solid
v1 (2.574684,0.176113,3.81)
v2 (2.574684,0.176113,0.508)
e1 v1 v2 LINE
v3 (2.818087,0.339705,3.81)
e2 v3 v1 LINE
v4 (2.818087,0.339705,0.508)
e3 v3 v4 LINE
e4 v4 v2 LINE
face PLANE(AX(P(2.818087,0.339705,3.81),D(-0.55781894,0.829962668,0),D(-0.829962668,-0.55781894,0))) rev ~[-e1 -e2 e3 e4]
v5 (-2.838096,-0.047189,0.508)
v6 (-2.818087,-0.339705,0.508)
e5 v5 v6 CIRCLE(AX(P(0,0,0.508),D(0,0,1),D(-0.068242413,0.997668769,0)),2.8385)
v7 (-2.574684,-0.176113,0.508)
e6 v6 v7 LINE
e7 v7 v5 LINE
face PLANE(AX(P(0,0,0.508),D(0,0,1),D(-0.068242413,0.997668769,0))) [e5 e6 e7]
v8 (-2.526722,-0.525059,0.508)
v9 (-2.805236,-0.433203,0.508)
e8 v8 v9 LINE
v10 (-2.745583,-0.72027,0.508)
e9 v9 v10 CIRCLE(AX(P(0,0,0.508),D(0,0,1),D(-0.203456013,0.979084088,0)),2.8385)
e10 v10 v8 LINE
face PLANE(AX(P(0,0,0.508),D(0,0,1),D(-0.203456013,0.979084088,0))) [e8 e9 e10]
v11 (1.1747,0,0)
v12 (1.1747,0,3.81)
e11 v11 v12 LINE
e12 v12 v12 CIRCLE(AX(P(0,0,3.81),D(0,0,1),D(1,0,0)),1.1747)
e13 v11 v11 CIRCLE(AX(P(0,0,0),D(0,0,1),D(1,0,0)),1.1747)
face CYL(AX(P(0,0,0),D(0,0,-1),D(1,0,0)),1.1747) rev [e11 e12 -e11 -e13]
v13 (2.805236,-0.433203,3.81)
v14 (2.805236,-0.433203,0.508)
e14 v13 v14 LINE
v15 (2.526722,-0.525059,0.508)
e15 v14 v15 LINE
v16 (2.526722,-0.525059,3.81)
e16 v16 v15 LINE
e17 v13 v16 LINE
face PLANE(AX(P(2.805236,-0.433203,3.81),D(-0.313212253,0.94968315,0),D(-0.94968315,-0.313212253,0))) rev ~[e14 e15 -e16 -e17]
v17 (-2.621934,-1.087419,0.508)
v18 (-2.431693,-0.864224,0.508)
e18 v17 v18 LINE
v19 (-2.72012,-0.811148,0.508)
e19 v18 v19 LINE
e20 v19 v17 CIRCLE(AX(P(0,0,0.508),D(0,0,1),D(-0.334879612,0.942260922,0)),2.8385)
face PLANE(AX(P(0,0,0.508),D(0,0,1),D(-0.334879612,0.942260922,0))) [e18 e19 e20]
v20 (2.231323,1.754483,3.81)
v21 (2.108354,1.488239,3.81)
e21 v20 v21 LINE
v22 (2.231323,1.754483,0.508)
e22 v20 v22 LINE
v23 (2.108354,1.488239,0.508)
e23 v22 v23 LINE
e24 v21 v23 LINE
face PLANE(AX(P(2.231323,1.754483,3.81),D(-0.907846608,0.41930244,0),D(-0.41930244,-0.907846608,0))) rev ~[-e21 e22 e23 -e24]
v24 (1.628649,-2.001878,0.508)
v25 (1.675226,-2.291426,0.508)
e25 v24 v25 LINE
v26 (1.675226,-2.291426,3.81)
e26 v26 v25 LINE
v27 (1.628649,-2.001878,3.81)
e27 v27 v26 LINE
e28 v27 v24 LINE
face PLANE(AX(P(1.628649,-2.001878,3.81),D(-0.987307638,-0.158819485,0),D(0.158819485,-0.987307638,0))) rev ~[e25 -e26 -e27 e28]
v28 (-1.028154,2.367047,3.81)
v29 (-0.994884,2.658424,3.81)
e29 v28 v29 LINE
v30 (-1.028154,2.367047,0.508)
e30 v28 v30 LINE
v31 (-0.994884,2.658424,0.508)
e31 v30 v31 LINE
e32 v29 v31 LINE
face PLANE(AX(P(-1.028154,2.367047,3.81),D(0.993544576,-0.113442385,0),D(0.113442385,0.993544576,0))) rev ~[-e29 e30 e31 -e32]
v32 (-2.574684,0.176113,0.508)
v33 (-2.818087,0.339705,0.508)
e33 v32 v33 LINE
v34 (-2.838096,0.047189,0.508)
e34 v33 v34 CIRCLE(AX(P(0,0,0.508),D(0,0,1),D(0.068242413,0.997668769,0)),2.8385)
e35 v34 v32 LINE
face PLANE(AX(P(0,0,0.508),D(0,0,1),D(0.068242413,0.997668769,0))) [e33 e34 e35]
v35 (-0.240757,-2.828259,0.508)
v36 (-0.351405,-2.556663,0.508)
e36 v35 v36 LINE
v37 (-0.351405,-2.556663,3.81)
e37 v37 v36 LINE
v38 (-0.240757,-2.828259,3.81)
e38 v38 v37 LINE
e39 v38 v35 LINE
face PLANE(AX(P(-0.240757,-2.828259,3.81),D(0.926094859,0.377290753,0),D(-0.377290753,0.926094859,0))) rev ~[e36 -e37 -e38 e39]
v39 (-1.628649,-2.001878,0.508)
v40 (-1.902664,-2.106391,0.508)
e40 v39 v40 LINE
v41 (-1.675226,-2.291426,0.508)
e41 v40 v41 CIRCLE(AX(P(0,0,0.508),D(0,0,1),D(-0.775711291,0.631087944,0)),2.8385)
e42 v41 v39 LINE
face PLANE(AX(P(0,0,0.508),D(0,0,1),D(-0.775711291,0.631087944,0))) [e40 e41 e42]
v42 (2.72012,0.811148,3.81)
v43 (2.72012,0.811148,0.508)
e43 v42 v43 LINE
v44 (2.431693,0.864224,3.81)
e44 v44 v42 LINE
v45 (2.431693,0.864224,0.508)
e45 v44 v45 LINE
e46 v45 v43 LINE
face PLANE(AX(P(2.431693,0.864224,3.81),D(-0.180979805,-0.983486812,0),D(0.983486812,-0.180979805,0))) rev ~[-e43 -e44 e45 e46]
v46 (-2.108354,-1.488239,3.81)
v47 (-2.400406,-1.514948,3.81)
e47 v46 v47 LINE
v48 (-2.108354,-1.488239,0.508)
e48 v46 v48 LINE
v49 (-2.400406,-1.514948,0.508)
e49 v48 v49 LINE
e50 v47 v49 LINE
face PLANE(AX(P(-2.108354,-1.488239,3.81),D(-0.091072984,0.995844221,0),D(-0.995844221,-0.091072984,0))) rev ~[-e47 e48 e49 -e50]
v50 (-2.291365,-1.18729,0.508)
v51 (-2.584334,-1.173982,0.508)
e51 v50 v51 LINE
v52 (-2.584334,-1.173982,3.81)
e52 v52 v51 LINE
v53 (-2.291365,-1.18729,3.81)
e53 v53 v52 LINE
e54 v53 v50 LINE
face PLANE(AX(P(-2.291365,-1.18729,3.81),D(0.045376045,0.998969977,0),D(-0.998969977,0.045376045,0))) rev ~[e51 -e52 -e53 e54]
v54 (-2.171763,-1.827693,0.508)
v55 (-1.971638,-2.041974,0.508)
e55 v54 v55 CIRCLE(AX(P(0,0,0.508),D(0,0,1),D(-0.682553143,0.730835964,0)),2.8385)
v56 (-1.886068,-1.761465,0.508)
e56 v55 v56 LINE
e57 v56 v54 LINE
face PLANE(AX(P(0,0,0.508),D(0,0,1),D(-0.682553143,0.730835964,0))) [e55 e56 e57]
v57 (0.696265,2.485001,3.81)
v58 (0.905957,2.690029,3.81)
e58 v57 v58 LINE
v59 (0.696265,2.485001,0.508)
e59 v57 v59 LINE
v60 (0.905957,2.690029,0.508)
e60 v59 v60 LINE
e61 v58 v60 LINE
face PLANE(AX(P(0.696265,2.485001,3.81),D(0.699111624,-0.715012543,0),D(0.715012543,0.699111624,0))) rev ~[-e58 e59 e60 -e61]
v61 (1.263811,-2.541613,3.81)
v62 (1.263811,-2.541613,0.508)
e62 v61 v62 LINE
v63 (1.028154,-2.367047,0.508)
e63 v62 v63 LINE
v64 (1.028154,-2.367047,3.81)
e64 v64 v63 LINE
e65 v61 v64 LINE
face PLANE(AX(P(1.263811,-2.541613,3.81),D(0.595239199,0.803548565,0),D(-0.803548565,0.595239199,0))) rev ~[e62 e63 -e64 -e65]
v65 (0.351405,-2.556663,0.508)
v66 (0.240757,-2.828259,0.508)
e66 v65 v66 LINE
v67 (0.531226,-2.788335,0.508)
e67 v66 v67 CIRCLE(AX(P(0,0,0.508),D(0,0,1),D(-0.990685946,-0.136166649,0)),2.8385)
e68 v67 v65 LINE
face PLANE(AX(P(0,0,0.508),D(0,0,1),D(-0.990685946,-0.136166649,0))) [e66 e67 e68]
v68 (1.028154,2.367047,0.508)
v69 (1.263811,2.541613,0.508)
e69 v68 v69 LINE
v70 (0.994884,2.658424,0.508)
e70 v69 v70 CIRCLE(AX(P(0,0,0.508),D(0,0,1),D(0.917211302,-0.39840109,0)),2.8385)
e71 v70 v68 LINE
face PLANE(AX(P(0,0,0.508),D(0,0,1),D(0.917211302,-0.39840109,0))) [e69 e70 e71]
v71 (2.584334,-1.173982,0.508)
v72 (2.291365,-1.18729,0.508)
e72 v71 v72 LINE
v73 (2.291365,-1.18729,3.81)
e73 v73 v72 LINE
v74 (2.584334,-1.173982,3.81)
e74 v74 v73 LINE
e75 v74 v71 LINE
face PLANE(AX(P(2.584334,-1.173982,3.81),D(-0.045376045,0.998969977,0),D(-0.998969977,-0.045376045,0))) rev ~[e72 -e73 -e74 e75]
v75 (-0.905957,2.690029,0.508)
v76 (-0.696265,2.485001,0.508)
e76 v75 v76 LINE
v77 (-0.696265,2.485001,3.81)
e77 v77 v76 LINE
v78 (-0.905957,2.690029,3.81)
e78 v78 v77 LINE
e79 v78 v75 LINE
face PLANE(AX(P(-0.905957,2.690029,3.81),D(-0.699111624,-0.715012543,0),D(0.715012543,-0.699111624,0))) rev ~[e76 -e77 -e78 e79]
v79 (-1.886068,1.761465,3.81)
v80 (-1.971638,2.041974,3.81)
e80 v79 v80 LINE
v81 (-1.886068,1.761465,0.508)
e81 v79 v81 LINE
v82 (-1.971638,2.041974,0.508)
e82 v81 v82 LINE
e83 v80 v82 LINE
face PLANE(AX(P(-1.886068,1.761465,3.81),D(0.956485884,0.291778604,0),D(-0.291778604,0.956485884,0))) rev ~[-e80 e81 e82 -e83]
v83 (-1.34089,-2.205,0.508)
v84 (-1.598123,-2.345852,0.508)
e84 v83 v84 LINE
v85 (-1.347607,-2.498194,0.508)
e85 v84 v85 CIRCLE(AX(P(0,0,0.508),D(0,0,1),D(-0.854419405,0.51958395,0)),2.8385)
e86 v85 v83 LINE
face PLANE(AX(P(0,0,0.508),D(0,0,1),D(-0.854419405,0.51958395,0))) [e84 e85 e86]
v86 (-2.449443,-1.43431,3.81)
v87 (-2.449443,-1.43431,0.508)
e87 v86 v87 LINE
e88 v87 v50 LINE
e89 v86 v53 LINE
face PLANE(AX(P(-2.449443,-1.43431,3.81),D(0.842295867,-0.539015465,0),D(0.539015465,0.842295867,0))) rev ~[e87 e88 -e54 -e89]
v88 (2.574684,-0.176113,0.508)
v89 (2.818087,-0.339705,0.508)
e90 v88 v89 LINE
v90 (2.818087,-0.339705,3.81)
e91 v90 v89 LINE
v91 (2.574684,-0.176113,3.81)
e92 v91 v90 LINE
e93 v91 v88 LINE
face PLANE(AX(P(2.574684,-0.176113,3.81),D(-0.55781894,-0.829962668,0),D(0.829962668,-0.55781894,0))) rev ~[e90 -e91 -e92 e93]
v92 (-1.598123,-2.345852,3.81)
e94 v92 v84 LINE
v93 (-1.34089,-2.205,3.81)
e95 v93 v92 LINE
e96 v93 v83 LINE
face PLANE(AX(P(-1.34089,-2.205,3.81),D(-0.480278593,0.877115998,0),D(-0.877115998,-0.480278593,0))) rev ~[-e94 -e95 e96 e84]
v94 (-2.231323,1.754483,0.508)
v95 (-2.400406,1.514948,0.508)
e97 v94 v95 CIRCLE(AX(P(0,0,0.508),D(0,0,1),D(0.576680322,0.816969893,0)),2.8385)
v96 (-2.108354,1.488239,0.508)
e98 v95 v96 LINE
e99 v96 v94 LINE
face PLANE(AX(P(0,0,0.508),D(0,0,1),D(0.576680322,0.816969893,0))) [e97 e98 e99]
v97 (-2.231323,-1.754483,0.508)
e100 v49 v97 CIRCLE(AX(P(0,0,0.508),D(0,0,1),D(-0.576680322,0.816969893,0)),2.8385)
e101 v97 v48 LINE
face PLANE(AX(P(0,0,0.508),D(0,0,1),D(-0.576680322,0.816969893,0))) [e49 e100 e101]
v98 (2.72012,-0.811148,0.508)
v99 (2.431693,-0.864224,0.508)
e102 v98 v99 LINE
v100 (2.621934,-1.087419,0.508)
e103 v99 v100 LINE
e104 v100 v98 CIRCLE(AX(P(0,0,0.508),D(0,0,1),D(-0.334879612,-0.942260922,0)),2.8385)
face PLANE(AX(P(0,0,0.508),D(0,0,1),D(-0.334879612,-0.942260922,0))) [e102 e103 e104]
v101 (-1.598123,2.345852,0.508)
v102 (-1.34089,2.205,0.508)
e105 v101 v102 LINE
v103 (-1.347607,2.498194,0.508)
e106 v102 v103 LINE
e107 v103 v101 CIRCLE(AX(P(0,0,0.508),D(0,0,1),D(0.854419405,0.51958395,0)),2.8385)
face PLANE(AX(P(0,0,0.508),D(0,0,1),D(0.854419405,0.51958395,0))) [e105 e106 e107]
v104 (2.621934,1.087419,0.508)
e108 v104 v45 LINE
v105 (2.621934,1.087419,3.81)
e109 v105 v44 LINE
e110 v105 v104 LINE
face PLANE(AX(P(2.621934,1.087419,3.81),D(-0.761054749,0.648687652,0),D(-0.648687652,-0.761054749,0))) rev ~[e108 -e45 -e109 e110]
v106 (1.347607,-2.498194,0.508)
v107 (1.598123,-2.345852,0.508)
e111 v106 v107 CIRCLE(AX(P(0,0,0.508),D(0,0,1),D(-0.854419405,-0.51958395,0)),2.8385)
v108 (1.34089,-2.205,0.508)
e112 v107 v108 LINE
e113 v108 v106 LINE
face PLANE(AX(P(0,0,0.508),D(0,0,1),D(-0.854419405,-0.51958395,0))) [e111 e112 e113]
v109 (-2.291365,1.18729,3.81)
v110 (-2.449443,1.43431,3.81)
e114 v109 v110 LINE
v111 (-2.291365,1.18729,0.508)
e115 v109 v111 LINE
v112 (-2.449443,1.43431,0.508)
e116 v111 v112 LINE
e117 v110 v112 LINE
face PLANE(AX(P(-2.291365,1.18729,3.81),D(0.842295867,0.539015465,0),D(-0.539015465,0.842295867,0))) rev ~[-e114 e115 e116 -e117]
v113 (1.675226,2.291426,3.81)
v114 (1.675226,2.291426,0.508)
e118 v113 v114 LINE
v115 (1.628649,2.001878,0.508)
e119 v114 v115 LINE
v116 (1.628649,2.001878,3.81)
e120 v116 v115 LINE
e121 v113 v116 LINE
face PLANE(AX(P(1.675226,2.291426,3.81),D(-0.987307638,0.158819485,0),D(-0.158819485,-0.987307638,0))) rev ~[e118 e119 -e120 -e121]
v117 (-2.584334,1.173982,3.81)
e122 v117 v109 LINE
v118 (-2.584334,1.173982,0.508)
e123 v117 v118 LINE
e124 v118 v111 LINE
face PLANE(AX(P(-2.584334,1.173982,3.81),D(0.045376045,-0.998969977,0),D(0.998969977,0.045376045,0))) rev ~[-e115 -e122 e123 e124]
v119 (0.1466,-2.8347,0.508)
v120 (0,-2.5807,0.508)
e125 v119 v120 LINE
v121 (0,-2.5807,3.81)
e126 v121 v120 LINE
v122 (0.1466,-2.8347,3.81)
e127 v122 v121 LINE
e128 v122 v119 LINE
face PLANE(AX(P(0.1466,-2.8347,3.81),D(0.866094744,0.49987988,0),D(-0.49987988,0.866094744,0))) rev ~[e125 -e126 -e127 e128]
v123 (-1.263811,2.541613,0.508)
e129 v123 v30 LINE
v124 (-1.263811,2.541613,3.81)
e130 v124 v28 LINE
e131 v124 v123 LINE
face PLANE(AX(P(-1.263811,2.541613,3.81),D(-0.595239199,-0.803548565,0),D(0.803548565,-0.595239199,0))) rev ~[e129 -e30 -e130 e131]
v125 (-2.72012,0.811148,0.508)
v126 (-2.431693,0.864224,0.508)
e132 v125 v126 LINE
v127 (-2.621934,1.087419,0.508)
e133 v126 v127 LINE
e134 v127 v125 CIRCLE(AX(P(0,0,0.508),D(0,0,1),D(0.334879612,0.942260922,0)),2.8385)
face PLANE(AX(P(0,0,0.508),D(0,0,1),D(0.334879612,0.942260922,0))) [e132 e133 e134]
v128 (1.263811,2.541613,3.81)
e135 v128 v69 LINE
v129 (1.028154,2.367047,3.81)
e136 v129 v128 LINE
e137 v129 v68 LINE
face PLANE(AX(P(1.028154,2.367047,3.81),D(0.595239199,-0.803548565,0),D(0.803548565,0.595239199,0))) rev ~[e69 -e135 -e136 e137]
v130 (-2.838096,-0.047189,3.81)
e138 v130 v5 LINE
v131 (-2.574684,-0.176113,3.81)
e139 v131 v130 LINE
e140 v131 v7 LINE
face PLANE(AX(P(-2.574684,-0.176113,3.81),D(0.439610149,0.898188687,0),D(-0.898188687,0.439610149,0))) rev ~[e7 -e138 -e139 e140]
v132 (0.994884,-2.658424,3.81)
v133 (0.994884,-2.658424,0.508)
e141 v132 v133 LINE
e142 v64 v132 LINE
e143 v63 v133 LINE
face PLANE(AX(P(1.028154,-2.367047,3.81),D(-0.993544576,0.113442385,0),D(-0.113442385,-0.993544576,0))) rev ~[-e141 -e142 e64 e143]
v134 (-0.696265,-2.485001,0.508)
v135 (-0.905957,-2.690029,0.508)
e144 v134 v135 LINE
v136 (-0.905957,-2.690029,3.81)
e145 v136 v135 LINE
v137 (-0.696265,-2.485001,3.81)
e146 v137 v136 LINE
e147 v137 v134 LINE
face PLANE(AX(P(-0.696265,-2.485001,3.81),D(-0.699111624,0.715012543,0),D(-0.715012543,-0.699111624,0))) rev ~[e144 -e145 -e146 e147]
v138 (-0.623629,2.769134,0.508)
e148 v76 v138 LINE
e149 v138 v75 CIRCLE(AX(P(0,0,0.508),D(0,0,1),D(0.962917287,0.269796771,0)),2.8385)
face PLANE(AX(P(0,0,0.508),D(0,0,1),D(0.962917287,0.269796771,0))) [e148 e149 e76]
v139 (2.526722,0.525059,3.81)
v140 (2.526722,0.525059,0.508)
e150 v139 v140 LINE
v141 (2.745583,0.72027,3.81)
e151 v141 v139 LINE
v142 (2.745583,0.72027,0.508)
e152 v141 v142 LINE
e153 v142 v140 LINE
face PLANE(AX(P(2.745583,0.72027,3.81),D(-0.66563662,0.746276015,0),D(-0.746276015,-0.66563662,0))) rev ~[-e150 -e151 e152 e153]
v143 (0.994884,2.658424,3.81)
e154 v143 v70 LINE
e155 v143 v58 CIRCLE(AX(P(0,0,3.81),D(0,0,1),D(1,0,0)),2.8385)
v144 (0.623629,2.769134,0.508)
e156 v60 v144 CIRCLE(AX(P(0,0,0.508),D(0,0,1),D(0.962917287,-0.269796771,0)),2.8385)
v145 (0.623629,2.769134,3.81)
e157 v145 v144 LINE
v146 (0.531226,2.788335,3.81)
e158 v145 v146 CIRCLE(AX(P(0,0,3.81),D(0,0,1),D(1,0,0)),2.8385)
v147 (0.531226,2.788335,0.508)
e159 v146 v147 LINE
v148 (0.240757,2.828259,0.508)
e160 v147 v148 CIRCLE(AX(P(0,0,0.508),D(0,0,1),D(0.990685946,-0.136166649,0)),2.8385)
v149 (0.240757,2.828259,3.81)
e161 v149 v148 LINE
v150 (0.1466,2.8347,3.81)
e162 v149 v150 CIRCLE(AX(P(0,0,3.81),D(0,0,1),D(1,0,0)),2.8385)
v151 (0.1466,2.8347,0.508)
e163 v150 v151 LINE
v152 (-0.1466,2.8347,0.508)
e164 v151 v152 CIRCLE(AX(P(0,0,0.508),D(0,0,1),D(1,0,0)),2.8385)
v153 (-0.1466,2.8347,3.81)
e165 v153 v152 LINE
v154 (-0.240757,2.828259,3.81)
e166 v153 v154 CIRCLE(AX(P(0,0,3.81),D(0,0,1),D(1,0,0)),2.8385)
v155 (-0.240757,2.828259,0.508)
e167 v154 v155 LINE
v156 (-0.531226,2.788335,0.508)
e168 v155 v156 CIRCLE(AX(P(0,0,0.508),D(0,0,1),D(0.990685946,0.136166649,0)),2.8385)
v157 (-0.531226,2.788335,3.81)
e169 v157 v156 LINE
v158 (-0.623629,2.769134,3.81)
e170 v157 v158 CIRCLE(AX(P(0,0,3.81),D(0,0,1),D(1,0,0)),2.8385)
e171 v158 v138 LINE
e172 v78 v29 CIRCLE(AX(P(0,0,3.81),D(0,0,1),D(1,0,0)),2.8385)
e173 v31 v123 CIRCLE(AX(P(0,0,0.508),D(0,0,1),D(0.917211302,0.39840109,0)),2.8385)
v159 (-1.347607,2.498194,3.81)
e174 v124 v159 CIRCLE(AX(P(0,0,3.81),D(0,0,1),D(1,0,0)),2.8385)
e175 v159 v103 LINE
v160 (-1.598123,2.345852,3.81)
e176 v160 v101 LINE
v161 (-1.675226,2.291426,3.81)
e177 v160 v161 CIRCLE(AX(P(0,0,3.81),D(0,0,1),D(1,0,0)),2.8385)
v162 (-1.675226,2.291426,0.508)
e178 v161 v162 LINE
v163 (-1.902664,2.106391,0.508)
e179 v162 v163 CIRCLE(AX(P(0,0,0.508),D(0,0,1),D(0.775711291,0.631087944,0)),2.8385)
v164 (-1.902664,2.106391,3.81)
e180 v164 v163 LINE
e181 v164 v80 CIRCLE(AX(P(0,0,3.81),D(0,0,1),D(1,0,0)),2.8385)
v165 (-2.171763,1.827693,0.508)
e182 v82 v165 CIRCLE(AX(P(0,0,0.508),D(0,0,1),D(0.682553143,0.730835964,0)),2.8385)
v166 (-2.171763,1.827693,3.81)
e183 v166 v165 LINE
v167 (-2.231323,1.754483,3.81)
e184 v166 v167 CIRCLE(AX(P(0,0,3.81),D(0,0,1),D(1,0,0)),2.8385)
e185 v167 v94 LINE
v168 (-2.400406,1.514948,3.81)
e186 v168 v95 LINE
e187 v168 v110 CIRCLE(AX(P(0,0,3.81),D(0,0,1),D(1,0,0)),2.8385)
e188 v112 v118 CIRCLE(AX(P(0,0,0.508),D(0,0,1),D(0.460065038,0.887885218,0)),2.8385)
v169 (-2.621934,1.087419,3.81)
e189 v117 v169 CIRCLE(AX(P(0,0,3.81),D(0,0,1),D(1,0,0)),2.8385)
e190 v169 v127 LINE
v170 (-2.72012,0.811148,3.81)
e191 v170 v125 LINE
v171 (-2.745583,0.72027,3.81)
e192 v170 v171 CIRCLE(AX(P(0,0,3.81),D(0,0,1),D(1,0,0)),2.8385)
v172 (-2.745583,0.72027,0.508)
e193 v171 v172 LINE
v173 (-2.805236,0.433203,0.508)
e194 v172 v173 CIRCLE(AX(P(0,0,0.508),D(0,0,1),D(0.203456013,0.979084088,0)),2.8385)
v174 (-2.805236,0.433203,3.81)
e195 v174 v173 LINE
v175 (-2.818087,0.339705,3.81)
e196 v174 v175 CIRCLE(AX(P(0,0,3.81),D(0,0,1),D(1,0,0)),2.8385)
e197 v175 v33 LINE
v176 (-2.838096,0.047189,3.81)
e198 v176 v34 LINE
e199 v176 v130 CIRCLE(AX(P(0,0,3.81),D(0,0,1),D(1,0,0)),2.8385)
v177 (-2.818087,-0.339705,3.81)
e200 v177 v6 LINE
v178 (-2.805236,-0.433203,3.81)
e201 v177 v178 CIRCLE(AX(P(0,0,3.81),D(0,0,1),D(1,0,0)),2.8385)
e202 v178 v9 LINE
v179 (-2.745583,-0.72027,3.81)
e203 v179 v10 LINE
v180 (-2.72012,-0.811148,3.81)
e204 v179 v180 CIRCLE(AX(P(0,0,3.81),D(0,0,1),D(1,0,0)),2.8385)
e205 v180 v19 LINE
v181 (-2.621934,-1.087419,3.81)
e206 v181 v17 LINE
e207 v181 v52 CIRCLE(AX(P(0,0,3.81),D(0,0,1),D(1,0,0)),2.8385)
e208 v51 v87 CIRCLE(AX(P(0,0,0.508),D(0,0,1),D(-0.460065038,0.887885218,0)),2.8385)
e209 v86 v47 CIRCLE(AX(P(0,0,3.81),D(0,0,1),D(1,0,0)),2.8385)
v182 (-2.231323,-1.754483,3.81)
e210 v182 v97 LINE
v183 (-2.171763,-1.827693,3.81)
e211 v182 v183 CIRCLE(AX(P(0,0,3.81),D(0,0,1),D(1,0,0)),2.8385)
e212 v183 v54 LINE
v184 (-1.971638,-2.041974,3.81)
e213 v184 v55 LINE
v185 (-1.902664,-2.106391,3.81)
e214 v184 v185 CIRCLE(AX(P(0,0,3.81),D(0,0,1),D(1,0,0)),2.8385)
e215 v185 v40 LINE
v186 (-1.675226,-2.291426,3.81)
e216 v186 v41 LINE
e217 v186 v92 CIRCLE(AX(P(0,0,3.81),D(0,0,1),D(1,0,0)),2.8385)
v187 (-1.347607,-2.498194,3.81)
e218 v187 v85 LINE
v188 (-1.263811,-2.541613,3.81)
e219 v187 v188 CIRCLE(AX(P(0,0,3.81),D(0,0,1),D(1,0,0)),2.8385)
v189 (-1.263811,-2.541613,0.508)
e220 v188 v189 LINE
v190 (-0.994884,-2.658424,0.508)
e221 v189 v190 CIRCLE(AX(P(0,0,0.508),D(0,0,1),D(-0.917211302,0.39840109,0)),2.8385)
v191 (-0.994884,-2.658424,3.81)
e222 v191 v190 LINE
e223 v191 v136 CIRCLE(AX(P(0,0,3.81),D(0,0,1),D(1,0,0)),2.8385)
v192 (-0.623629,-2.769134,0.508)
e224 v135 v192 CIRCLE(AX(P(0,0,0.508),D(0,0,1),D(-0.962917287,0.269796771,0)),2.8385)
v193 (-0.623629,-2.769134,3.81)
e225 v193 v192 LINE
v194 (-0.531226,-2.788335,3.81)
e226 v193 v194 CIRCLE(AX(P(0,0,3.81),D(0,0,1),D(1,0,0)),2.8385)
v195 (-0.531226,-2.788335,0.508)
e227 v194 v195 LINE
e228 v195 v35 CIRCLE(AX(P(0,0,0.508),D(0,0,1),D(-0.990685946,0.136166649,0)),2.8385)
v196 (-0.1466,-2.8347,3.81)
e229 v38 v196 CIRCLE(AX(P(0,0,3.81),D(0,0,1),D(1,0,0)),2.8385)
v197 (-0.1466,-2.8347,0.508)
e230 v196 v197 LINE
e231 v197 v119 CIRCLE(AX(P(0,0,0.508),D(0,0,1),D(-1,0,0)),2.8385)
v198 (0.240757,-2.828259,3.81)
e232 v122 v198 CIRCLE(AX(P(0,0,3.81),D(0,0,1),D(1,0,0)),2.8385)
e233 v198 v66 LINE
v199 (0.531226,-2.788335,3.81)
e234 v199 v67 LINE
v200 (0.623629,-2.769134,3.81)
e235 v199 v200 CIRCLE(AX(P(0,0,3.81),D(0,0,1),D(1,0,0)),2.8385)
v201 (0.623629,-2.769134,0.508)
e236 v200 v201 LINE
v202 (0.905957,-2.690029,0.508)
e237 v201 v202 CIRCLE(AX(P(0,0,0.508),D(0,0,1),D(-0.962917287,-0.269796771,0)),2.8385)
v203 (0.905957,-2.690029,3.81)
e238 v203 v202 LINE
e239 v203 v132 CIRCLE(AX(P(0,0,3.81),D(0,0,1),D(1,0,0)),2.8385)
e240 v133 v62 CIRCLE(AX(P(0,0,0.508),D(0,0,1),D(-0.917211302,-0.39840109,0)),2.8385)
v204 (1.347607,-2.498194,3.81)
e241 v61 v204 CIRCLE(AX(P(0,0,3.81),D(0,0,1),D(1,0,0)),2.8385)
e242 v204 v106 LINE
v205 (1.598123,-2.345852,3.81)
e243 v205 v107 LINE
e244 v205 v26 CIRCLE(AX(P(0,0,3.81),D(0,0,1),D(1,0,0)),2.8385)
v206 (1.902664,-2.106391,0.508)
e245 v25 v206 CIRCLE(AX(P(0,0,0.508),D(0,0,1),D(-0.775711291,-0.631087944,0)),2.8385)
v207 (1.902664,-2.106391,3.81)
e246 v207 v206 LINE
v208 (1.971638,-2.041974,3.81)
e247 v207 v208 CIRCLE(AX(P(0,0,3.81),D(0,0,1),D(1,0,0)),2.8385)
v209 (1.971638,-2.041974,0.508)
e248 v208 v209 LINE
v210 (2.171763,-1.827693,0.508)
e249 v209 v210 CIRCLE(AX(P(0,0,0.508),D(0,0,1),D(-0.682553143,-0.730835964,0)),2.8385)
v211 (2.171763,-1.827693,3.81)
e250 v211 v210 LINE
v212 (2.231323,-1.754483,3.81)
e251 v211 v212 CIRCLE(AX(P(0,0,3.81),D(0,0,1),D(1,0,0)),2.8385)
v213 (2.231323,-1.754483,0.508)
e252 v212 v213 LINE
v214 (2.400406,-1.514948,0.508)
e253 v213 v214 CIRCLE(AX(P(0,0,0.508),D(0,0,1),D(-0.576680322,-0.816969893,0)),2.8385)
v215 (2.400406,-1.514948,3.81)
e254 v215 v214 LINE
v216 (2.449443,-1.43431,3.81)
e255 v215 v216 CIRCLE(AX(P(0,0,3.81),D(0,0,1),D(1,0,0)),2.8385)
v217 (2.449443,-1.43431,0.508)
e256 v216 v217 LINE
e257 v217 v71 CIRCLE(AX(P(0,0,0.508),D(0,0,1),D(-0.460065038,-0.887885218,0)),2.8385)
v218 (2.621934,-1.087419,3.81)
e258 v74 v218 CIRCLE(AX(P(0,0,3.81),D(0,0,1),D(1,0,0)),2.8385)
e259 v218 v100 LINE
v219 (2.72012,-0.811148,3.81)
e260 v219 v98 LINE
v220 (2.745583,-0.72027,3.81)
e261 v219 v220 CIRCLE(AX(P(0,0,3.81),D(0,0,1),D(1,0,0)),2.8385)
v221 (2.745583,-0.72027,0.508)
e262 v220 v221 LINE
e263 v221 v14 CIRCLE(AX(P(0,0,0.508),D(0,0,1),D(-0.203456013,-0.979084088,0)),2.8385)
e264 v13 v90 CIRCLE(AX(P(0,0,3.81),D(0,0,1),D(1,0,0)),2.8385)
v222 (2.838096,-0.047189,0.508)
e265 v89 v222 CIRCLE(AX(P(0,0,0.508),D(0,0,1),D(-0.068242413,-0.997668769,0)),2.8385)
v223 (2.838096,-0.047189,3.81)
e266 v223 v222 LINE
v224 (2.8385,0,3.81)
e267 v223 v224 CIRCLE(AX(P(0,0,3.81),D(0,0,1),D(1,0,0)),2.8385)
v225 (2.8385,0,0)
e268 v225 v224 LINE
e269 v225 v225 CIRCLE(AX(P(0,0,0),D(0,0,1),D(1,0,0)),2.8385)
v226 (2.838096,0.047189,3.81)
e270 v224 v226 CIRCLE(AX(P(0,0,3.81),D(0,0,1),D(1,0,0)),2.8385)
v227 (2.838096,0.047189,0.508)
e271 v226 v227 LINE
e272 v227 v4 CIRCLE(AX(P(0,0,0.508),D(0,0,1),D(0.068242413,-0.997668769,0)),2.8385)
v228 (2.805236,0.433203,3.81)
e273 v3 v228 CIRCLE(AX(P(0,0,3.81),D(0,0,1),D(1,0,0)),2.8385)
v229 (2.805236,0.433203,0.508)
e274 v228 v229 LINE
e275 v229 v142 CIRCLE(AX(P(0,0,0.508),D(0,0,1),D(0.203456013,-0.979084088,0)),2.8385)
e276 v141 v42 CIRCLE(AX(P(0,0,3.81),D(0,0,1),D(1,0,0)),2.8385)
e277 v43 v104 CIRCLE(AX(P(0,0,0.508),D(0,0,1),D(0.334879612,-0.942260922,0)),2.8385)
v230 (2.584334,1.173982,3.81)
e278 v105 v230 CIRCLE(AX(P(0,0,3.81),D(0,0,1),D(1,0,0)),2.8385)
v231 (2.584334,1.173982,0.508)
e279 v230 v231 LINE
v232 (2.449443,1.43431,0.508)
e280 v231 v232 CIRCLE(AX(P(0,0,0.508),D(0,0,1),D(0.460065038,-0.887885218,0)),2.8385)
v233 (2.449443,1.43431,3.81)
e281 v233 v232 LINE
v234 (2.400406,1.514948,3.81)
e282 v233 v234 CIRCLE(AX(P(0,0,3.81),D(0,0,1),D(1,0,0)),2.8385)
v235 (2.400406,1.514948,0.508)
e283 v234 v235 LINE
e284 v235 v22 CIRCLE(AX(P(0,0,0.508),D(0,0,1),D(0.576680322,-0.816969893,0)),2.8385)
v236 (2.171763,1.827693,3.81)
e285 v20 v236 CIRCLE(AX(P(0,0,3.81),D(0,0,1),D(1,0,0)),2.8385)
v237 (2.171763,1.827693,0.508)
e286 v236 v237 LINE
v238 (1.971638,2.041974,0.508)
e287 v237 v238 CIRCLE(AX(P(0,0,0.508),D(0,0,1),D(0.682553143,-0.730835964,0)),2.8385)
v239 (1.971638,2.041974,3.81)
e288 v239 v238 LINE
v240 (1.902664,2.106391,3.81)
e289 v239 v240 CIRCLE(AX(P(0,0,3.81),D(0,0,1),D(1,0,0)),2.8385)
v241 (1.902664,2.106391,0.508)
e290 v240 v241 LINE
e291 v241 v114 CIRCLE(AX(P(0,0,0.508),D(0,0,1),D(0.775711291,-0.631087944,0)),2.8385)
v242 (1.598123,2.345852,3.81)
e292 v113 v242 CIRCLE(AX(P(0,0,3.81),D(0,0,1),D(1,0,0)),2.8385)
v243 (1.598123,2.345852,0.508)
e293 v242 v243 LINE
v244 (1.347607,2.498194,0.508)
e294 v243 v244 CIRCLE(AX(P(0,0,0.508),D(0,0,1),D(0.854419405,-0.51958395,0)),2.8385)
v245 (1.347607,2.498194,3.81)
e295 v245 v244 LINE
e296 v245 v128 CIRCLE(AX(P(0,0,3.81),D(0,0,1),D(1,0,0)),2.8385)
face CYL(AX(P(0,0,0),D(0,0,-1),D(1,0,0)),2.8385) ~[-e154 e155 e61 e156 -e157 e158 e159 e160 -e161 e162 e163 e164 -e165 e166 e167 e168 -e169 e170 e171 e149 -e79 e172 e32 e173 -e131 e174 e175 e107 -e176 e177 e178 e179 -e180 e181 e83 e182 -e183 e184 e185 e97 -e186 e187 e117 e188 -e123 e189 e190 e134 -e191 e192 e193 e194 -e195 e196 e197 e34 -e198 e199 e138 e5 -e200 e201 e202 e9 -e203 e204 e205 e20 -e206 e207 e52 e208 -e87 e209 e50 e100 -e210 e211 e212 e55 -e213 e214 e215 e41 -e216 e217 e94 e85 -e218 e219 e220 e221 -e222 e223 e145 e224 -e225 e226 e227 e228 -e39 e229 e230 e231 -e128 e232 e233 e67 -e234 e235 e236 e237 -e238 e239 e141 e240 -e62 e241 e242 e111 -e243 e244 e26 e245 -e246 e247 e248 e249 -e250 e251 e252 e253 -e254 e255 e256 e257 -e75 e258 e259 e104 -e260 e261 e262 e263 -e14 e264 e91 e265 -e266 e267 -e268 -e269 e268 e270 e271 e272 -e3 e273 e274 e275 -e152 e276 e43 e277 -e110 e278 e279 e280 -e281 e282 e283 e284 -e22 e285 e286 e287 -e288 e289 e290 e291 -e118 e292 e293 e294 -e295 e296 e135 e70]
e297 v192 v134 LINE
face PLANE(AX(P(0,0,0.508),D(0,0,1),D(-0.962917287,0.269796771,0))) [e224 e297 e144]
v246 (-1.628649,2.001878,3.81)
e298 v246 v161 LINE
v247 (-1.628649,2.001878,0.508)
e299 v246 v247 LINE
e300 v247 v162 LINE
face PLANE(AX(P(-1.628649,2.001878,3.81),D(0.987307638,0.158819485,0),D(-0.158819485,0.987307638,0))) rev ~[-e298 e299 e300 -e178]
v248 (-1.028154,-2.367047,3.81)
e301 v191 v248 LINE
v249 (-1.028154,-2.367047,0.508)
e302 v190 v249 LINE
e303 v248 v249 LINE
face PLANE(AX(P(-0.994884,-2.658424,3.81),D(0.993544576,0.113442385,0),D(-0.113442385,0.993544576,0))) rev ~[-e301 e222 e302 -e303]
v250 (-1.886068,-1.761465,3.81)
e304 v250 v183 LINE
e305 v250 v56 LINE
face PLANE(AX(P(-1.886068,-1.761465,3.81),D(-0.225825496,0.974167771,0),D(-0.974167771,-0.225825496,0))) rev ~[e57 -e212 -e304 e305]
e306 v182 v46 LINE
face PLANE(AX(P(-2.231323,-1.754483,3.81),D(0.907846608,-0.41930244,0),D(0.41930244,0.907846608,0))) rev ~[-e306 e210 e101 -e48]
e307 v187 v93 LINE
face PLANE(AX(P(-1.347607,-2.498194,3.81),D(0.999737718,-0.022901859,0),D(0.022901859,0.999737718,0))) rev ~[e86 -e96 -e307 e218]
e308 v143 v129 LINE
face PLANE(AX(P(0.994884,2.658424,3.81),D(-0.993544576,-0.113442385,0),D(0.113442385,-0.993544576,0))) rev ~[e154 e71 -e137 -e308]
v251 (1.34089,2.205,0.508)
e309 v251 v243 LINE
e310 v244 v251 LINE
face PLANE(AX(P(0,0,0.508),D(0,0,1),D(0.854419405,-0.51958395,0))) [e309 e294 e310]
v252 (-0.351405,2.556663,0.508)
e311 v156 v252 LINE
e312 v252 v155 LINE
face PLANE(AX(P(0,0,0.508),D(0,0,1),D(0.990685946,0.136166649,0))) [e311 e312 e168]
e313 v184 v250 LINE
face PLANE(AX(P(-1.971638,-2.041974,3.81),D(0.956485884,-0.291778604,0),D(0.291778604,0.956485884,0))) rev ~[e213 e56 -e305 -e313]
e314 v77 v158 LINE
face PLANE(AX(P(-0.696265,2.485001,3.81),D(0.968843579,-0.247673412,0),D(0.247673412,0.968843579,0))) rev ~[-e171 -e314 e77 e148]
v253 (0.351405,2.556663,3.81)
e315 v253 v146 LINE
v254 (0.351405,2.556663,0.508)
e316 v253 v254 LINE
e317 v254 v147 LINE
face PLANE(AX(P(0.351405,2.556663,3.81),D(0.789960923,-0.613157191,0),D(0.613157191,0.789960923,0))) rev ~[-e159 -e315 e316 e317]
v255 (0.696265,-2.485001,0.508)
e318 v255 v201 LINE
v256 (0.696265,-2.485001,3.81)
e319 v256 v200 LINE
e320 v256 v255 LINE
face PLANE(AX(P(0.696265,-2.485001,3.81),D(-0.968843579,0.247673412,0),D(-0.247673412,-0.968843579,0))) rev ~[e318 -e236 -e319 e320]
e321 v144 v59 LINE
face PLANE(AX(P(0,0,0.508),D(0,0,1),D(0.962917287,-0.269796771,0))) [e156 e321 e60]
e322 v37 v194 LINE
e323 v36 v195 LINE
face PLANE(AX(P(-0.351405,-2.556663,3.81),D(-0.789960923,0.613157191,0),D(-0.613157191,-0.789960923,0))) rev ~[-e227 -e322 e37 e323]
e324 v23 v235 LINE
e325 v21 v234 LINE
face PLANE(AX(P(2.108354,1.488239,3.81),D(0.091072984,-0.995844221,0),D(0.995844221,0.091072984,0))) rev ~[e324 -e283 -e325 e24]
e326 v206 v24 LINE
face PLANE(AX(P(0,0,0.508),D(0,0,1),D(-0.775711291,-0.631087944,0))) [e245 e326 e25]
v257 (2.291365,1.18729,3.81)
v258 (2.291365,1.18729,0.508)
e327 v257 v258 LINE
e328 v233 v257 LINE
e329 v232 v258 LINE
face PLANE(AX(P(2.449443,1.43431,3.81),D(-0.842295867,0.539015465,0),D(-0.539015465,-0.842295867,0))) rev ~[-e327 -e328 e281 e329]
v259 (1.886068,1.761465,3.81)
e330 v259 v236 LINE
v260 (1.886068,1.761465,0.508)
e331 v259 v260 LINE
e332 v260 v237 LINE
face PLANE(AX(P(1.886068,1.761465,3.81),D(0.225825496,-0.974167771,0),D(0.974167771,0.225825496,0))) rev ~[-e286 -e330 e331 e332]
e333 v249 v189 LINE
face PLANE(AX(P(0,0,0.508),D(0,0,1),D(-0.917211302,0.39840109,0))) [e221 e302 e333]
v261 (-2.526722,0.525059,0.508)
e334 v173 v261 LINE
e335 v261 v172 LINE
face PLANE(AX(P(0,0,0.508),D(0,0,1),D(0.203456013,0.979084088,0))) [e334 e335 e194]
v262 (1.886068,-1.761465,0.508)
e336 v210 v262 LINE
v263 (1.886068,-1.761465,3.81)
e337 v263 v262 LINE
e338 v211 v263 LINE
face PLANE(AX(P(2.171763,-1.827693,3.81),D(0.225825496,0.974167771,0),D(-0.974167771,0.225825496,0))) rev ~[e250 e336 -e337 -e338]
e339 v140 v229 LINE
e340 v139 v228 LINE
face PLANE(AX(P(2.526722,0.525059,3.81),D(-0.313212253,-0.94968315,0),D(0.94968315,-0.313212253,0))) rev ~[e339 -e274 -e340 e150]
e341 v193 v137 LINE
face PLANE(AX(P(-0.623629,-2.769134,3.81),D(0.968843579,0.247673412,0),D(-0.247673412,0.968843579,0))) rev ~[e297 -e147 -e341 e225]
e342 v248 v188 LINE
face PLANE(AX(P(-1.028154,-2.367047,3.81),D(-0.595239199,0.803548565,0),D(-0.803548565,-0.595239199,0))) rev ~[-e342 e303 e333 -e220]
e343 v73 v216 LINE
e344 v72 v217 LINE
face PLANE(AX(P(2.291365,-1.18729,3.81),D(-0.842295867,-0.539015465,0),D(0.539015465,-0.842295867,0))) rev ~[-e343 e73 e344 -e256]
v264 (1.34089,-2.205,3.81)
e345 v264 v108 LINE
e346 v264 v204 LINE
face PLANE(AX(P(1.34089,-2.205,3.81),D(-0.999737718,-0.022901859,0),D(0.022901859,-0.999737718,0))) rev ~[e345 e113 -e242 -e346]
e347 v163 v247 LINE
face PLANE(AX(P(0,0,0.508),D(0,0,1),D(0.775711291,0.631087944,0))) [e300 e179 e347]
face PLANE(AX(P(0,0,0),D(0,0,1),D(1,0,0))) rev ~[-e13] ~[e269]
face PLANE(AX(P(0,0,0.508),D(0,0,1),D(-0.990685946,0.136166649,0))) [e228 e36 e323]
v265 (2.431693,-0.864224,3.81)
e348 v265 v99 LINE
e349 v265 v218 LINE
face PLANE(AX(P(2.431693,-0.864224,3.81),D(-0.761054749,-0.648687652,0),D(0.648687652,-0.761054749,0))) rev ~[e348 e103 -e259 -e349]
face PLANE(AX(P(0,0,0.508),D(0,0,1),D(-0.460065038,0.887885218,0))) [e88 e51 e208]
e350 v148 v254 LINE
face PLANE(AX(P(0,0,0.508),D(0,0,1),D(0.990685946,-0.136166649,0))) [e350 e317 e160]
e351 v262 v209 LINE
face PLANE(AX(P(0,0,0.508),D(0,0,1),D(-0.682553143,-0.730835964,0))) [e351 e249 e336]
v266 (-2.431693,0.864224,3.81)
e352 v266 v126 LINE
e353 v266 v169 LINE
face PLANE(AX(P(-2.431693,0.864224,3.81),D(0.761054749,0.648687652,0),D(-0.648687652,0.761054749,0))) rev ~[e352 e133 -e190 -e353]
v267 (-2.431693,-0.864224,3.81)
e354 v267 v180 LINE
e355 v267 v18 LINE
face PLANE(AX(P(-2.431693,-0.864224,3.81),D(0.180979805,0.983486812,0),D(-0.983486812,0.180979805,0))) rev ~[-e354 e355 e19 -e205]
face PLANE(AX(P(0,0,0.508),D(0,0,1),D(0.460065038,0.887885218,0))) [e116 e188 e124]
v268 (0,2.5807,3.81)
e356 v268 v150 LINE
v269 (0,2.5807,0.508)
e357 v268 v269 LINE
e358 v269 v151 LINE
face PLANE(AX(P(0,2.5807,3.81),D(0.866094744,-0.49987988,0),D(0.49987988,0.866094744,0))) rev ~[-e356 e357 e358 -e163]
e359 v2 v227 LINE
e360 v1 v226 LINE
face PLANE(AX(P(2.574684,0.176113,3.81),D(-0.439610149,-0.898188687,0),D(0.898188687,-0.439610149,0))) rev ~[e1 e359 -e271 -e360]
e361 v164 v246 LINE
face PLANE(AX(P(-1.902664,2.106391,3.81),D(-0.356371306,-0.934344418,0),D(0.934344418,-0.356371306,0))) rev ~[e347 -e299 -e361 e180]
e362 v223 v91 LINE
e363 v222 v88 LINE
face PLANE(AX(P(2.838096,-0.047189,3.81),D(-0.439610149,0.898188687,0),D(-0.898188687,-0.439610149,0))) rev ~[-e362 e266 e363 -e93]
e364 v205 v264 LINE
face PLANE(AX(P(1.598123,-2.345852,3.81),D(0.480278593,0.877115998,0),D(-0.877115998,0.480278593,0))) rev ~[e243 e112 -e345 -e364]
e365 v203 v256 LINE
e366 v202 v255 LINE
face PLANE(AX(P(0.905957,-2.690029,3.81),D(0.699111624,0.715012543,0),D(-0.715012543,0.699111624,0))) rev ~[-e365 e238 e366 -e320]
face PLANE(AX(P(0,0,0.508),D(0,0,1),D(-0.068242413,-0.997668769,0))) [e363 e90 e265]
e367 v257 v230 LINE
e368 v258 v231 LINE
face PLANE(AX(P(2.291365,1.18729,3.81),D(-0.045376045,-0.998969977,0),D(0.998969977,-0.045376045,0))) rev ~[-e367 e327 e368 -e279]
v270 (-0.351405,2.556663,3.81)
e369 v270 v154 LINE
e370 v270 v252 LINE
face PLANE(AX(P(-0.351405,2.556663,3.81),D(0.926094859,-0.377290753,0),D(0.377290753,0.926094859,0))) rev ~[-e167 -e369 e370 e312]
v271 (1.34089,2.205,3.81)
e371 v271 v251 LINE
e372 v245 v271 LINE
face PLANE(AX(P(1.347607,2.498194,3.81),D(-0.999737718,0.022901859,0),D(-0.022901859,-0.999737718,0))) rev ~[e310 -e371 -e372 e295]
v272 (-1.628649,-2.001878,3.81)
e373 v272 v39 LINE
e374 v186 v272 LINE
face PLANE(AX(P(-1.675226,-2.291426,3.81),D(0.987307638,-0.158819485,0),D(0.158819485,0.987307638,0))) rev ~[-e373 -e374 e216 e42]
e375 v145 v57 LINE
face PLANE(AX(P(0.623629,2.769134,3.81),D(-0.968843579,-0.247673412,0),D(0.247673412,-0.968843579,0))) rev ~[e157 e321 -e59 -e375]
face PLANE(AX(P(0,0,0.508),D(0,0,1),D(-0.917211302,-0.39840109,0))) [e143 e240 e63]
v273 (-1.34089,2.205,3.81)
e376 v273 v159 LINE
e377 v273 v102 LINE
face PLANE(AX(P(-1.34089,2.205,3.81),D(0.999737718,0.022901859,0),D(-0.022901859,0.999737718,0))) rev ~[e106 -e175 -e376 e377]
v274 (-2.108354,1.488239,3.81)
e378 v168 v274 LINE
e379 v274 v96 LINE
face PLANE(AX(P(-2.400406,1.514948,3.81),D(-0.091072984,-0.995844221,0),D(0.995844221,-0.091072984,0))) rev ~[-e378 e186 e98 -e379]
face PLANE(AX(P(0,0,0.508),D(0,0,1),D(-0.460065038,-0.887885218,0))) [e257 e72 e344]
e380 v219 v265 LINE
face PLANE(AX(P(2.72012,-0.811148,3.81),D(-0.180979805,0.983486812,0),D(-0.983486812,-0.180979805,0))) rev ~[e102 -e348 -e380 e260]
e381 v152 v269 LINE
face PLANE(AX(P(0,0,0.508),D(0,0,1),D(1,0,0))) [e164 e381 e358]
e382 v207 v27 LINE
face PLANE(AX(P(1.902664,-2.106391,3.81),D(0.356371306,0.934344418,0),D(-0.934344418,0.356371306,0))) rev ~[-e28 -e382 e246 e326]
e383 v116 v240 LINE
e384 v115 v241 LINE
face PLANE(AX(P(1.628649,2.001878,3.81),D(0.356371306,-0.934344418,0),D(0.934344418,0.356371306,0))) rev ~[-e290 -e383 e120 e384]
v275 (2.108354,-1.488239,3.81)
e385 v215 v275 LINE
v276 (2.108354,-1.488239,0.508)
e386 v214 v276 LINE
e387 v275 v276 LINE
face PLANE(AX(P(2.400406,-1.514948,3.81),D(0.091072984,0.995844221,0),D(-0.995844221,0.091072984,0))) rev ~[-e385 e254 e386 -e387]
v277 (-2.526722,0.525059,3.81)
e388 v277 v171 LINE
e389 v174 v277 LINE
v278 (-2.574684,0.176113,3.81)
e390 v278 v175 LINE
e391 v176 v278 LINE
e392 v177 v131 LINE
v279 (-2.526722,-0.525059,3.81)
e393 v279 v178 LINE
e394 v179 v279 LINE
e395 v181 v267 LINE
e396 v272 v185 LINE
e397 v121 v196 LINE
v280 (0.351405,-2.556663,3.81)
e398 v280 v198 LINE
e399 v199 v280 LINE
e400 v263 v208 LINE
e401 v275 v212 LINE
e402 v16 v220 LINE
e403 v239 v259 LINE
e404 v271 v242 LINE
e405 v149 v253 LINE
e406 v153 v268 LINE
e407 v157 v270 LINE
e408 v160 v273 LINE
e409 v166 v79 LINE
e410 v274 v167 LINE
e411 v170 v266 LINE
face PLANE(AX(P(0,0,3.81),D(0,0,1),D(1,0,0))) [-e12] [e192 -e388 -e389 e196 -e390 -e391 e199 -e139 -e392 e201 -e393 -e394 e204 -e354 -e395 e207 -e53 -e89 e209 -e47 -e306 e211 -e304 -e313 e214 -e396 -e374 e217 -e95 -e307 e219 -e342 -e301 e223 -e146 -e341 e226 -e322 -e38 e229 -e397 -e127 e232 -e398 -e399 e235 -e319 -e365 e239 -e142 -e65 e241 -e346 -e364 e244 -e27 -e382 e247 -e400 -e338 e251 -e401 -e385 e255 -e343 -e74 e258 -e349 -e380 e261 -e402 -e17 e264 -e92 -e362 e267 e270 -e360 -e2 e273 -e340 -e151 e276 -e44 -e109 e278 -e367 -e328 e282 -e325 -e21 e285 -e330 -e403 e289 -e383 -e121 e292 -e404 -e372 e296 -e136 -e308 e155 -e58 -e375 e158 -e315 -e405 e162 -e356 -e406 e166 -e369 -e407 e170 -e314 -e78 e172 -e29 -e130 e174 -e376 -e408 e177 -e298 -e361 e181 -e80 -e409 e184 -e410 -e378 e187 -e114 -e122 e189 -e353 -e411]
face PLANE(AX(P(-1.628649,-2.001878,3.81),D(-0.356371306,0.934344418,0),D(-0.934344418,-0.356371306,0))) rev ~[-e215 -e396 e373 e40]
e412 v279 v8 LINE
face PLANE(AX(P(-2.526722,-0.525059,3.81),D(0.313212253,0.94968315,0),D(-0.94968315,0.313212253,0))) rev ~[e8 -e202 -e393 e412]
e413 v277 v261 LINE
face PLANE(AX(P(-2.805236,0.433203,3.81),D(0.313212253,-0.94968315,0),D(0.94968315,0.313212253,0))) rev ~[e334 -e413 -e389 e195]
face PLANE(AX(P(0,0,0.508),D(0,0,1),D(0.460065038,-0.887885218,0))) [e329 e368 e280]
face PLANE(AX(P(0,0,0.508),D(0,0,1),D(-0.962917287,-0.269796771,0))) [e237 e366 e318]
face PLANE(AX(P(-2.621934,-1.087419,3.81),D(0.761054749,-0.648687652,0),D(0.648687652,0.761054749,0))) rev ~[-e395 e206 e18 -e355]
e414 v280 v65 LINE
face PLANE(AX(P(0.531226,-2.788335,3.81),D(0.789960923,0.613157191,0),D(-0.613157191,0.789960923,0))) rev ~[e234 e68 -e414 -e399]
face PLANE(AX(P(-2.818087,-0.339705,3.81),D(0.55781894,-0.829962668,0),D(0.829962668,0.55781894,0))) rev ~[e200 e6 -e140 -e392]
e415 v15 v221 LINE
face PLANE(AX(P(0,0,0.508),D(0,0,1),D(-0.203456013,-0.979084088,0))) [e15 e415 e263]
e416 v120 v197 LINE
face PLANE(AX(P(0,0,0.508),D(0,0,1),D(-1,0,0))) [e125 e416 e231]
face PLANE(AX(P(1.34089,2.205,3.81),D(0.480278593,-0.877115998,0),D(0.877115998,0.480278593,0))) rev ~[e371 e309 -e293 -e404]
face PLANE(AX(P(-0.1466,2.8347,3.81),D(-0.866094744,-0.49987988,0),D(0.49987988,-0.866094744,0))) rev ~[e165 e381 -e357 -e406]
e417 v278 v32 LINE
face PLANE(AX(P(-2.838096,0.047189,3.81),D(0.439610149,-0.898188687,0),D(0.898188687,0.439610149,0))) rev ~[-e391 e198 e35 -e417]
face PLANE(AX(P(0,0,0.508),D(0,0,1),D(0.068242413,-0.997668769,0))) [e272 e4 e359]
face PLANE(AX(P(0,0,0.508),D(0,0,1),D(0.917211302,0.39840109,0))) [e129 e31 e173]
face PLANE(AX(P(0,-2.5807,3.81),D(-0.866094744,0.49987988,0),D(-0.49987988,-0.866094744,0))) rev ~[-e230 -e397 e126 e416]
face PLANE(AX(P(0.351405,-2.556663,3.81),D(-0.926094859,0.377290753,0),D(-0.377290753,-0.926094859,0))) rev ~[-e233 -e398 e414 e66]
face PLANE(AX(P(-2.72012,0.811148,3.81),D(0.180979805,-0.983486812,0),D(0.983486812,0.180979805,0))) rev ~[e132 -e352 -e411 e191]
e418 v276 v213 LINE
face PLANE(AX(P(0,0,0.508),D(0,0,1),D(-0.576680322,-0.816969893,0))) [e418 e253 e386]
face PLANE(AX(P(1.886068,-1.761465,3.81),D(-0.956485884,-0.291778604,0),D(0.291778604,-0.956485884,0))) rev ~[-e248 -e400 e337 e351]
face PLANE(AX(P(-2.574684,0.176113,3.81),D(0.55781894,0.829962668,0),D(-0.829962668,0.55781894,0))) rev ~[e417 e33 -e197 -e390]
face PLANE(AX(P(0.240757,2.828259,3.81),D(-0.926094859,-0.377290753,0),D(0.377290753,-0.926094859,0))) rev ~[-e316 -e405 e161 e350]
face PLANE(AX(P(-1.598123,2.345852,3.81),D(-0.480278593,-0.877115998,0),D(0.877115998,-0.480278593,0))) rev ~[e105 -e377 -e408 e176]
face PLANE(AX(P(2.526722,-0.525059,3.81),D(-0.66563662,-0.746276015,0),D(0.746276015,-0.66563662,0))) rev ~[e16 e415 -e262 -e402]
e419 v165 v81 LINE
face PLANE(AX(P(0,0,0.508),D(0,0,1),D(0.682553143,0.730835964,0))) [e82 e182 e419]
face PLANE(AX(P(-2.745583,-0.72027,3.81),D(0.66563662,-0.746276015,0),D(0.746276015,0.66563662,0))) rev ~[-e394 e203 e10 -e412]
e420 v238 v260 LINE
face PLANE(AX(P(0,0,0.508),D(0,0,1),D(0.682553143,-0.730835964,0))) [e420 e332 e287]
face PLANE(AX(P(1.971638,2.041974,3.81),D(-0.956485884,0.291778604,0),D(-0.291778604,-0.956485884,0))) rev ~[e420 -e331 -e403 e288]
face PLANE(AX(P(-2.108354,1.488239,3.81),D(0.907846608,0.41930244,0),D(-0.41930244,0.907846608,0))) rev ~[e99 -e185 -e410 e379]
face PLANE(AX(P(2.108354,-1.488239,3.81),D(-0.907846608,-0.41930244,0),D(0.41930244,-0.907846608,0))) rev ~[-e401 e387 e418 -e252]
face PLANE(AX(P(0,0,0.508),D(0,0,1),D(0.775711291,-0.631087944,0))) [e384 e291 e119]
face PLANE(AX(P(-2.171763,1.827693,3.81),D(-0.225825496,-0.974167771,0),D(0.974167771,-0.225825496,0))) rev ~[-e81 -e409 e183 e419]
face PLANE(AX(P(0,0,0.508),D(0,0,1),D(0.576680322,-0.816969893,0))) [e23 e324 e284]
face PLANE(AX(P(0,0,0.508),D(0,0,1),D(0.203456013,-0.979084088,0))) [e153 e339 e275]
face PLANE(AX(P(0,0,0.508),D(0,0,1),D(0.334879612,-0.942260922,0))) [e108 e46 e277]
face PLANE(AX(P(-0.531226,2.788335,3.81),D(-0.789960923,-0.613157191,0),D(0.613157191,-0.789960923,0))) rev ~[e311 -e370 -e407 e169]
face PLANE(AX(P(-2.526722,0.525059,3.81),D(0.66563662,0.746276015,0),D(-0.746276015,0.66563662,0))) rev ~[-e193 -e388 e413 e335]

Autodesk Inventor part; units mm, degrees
ref_plane "XY Plane" through (0, 0, 0) normal (0, 0, 1) x (1, 0, 0)
sketch "Sketch1" plane through (0, 0, 0) normal (0, 0, 1) x (1, 0, 0)
  circle A0 centre (0, 0) radius 2.8385
  circle A1 centre (0, 0) radius 1.1747
  dimension "d0" = 5.6769
  dimension "d1" = 2.3495
extrude "Extrusion1" add sketch "Sketch1" along normal blind 3.81
sketch "Sketch2" plane through (0, 0, 3.81) normal (0, 0, 1) x (1, 0, 0)
  circle A0 centre (0, 0) radius 1.1747 projected
  circle A1 centre (0, 0) radius 2.8385 projected
  circle A2 centre (0, 0) radius 2.8385 projected
  line L0 (-0.1466, 2.8347) -> (0, 2.5807)
  line L1 (0, 2.5807) -> (0.1466, 2.8347)
  dimension "d4" = 0.254
  dimension "d5" = 60
extrude "Extrusion2" cut sketch "Sketch2" against normal blind 3.302 contours L1 L0 A1 picked at (0.0652, 2.7512)
pattern_circular "Circular Pattern1" count 46 over 360 about axis through (0, 0, 0) along (0, 0, 1) of "Extrusion2"
ref_plane "Work Plane1" through (0, 0, 0) normal (1, 0, 0) x (0, 1, 0)
ref_plane "Work Plane2" through (0, 0, 0) normal (0, 1, 0) x (-1, 0, 0)
properties part number "Servo Horn"
